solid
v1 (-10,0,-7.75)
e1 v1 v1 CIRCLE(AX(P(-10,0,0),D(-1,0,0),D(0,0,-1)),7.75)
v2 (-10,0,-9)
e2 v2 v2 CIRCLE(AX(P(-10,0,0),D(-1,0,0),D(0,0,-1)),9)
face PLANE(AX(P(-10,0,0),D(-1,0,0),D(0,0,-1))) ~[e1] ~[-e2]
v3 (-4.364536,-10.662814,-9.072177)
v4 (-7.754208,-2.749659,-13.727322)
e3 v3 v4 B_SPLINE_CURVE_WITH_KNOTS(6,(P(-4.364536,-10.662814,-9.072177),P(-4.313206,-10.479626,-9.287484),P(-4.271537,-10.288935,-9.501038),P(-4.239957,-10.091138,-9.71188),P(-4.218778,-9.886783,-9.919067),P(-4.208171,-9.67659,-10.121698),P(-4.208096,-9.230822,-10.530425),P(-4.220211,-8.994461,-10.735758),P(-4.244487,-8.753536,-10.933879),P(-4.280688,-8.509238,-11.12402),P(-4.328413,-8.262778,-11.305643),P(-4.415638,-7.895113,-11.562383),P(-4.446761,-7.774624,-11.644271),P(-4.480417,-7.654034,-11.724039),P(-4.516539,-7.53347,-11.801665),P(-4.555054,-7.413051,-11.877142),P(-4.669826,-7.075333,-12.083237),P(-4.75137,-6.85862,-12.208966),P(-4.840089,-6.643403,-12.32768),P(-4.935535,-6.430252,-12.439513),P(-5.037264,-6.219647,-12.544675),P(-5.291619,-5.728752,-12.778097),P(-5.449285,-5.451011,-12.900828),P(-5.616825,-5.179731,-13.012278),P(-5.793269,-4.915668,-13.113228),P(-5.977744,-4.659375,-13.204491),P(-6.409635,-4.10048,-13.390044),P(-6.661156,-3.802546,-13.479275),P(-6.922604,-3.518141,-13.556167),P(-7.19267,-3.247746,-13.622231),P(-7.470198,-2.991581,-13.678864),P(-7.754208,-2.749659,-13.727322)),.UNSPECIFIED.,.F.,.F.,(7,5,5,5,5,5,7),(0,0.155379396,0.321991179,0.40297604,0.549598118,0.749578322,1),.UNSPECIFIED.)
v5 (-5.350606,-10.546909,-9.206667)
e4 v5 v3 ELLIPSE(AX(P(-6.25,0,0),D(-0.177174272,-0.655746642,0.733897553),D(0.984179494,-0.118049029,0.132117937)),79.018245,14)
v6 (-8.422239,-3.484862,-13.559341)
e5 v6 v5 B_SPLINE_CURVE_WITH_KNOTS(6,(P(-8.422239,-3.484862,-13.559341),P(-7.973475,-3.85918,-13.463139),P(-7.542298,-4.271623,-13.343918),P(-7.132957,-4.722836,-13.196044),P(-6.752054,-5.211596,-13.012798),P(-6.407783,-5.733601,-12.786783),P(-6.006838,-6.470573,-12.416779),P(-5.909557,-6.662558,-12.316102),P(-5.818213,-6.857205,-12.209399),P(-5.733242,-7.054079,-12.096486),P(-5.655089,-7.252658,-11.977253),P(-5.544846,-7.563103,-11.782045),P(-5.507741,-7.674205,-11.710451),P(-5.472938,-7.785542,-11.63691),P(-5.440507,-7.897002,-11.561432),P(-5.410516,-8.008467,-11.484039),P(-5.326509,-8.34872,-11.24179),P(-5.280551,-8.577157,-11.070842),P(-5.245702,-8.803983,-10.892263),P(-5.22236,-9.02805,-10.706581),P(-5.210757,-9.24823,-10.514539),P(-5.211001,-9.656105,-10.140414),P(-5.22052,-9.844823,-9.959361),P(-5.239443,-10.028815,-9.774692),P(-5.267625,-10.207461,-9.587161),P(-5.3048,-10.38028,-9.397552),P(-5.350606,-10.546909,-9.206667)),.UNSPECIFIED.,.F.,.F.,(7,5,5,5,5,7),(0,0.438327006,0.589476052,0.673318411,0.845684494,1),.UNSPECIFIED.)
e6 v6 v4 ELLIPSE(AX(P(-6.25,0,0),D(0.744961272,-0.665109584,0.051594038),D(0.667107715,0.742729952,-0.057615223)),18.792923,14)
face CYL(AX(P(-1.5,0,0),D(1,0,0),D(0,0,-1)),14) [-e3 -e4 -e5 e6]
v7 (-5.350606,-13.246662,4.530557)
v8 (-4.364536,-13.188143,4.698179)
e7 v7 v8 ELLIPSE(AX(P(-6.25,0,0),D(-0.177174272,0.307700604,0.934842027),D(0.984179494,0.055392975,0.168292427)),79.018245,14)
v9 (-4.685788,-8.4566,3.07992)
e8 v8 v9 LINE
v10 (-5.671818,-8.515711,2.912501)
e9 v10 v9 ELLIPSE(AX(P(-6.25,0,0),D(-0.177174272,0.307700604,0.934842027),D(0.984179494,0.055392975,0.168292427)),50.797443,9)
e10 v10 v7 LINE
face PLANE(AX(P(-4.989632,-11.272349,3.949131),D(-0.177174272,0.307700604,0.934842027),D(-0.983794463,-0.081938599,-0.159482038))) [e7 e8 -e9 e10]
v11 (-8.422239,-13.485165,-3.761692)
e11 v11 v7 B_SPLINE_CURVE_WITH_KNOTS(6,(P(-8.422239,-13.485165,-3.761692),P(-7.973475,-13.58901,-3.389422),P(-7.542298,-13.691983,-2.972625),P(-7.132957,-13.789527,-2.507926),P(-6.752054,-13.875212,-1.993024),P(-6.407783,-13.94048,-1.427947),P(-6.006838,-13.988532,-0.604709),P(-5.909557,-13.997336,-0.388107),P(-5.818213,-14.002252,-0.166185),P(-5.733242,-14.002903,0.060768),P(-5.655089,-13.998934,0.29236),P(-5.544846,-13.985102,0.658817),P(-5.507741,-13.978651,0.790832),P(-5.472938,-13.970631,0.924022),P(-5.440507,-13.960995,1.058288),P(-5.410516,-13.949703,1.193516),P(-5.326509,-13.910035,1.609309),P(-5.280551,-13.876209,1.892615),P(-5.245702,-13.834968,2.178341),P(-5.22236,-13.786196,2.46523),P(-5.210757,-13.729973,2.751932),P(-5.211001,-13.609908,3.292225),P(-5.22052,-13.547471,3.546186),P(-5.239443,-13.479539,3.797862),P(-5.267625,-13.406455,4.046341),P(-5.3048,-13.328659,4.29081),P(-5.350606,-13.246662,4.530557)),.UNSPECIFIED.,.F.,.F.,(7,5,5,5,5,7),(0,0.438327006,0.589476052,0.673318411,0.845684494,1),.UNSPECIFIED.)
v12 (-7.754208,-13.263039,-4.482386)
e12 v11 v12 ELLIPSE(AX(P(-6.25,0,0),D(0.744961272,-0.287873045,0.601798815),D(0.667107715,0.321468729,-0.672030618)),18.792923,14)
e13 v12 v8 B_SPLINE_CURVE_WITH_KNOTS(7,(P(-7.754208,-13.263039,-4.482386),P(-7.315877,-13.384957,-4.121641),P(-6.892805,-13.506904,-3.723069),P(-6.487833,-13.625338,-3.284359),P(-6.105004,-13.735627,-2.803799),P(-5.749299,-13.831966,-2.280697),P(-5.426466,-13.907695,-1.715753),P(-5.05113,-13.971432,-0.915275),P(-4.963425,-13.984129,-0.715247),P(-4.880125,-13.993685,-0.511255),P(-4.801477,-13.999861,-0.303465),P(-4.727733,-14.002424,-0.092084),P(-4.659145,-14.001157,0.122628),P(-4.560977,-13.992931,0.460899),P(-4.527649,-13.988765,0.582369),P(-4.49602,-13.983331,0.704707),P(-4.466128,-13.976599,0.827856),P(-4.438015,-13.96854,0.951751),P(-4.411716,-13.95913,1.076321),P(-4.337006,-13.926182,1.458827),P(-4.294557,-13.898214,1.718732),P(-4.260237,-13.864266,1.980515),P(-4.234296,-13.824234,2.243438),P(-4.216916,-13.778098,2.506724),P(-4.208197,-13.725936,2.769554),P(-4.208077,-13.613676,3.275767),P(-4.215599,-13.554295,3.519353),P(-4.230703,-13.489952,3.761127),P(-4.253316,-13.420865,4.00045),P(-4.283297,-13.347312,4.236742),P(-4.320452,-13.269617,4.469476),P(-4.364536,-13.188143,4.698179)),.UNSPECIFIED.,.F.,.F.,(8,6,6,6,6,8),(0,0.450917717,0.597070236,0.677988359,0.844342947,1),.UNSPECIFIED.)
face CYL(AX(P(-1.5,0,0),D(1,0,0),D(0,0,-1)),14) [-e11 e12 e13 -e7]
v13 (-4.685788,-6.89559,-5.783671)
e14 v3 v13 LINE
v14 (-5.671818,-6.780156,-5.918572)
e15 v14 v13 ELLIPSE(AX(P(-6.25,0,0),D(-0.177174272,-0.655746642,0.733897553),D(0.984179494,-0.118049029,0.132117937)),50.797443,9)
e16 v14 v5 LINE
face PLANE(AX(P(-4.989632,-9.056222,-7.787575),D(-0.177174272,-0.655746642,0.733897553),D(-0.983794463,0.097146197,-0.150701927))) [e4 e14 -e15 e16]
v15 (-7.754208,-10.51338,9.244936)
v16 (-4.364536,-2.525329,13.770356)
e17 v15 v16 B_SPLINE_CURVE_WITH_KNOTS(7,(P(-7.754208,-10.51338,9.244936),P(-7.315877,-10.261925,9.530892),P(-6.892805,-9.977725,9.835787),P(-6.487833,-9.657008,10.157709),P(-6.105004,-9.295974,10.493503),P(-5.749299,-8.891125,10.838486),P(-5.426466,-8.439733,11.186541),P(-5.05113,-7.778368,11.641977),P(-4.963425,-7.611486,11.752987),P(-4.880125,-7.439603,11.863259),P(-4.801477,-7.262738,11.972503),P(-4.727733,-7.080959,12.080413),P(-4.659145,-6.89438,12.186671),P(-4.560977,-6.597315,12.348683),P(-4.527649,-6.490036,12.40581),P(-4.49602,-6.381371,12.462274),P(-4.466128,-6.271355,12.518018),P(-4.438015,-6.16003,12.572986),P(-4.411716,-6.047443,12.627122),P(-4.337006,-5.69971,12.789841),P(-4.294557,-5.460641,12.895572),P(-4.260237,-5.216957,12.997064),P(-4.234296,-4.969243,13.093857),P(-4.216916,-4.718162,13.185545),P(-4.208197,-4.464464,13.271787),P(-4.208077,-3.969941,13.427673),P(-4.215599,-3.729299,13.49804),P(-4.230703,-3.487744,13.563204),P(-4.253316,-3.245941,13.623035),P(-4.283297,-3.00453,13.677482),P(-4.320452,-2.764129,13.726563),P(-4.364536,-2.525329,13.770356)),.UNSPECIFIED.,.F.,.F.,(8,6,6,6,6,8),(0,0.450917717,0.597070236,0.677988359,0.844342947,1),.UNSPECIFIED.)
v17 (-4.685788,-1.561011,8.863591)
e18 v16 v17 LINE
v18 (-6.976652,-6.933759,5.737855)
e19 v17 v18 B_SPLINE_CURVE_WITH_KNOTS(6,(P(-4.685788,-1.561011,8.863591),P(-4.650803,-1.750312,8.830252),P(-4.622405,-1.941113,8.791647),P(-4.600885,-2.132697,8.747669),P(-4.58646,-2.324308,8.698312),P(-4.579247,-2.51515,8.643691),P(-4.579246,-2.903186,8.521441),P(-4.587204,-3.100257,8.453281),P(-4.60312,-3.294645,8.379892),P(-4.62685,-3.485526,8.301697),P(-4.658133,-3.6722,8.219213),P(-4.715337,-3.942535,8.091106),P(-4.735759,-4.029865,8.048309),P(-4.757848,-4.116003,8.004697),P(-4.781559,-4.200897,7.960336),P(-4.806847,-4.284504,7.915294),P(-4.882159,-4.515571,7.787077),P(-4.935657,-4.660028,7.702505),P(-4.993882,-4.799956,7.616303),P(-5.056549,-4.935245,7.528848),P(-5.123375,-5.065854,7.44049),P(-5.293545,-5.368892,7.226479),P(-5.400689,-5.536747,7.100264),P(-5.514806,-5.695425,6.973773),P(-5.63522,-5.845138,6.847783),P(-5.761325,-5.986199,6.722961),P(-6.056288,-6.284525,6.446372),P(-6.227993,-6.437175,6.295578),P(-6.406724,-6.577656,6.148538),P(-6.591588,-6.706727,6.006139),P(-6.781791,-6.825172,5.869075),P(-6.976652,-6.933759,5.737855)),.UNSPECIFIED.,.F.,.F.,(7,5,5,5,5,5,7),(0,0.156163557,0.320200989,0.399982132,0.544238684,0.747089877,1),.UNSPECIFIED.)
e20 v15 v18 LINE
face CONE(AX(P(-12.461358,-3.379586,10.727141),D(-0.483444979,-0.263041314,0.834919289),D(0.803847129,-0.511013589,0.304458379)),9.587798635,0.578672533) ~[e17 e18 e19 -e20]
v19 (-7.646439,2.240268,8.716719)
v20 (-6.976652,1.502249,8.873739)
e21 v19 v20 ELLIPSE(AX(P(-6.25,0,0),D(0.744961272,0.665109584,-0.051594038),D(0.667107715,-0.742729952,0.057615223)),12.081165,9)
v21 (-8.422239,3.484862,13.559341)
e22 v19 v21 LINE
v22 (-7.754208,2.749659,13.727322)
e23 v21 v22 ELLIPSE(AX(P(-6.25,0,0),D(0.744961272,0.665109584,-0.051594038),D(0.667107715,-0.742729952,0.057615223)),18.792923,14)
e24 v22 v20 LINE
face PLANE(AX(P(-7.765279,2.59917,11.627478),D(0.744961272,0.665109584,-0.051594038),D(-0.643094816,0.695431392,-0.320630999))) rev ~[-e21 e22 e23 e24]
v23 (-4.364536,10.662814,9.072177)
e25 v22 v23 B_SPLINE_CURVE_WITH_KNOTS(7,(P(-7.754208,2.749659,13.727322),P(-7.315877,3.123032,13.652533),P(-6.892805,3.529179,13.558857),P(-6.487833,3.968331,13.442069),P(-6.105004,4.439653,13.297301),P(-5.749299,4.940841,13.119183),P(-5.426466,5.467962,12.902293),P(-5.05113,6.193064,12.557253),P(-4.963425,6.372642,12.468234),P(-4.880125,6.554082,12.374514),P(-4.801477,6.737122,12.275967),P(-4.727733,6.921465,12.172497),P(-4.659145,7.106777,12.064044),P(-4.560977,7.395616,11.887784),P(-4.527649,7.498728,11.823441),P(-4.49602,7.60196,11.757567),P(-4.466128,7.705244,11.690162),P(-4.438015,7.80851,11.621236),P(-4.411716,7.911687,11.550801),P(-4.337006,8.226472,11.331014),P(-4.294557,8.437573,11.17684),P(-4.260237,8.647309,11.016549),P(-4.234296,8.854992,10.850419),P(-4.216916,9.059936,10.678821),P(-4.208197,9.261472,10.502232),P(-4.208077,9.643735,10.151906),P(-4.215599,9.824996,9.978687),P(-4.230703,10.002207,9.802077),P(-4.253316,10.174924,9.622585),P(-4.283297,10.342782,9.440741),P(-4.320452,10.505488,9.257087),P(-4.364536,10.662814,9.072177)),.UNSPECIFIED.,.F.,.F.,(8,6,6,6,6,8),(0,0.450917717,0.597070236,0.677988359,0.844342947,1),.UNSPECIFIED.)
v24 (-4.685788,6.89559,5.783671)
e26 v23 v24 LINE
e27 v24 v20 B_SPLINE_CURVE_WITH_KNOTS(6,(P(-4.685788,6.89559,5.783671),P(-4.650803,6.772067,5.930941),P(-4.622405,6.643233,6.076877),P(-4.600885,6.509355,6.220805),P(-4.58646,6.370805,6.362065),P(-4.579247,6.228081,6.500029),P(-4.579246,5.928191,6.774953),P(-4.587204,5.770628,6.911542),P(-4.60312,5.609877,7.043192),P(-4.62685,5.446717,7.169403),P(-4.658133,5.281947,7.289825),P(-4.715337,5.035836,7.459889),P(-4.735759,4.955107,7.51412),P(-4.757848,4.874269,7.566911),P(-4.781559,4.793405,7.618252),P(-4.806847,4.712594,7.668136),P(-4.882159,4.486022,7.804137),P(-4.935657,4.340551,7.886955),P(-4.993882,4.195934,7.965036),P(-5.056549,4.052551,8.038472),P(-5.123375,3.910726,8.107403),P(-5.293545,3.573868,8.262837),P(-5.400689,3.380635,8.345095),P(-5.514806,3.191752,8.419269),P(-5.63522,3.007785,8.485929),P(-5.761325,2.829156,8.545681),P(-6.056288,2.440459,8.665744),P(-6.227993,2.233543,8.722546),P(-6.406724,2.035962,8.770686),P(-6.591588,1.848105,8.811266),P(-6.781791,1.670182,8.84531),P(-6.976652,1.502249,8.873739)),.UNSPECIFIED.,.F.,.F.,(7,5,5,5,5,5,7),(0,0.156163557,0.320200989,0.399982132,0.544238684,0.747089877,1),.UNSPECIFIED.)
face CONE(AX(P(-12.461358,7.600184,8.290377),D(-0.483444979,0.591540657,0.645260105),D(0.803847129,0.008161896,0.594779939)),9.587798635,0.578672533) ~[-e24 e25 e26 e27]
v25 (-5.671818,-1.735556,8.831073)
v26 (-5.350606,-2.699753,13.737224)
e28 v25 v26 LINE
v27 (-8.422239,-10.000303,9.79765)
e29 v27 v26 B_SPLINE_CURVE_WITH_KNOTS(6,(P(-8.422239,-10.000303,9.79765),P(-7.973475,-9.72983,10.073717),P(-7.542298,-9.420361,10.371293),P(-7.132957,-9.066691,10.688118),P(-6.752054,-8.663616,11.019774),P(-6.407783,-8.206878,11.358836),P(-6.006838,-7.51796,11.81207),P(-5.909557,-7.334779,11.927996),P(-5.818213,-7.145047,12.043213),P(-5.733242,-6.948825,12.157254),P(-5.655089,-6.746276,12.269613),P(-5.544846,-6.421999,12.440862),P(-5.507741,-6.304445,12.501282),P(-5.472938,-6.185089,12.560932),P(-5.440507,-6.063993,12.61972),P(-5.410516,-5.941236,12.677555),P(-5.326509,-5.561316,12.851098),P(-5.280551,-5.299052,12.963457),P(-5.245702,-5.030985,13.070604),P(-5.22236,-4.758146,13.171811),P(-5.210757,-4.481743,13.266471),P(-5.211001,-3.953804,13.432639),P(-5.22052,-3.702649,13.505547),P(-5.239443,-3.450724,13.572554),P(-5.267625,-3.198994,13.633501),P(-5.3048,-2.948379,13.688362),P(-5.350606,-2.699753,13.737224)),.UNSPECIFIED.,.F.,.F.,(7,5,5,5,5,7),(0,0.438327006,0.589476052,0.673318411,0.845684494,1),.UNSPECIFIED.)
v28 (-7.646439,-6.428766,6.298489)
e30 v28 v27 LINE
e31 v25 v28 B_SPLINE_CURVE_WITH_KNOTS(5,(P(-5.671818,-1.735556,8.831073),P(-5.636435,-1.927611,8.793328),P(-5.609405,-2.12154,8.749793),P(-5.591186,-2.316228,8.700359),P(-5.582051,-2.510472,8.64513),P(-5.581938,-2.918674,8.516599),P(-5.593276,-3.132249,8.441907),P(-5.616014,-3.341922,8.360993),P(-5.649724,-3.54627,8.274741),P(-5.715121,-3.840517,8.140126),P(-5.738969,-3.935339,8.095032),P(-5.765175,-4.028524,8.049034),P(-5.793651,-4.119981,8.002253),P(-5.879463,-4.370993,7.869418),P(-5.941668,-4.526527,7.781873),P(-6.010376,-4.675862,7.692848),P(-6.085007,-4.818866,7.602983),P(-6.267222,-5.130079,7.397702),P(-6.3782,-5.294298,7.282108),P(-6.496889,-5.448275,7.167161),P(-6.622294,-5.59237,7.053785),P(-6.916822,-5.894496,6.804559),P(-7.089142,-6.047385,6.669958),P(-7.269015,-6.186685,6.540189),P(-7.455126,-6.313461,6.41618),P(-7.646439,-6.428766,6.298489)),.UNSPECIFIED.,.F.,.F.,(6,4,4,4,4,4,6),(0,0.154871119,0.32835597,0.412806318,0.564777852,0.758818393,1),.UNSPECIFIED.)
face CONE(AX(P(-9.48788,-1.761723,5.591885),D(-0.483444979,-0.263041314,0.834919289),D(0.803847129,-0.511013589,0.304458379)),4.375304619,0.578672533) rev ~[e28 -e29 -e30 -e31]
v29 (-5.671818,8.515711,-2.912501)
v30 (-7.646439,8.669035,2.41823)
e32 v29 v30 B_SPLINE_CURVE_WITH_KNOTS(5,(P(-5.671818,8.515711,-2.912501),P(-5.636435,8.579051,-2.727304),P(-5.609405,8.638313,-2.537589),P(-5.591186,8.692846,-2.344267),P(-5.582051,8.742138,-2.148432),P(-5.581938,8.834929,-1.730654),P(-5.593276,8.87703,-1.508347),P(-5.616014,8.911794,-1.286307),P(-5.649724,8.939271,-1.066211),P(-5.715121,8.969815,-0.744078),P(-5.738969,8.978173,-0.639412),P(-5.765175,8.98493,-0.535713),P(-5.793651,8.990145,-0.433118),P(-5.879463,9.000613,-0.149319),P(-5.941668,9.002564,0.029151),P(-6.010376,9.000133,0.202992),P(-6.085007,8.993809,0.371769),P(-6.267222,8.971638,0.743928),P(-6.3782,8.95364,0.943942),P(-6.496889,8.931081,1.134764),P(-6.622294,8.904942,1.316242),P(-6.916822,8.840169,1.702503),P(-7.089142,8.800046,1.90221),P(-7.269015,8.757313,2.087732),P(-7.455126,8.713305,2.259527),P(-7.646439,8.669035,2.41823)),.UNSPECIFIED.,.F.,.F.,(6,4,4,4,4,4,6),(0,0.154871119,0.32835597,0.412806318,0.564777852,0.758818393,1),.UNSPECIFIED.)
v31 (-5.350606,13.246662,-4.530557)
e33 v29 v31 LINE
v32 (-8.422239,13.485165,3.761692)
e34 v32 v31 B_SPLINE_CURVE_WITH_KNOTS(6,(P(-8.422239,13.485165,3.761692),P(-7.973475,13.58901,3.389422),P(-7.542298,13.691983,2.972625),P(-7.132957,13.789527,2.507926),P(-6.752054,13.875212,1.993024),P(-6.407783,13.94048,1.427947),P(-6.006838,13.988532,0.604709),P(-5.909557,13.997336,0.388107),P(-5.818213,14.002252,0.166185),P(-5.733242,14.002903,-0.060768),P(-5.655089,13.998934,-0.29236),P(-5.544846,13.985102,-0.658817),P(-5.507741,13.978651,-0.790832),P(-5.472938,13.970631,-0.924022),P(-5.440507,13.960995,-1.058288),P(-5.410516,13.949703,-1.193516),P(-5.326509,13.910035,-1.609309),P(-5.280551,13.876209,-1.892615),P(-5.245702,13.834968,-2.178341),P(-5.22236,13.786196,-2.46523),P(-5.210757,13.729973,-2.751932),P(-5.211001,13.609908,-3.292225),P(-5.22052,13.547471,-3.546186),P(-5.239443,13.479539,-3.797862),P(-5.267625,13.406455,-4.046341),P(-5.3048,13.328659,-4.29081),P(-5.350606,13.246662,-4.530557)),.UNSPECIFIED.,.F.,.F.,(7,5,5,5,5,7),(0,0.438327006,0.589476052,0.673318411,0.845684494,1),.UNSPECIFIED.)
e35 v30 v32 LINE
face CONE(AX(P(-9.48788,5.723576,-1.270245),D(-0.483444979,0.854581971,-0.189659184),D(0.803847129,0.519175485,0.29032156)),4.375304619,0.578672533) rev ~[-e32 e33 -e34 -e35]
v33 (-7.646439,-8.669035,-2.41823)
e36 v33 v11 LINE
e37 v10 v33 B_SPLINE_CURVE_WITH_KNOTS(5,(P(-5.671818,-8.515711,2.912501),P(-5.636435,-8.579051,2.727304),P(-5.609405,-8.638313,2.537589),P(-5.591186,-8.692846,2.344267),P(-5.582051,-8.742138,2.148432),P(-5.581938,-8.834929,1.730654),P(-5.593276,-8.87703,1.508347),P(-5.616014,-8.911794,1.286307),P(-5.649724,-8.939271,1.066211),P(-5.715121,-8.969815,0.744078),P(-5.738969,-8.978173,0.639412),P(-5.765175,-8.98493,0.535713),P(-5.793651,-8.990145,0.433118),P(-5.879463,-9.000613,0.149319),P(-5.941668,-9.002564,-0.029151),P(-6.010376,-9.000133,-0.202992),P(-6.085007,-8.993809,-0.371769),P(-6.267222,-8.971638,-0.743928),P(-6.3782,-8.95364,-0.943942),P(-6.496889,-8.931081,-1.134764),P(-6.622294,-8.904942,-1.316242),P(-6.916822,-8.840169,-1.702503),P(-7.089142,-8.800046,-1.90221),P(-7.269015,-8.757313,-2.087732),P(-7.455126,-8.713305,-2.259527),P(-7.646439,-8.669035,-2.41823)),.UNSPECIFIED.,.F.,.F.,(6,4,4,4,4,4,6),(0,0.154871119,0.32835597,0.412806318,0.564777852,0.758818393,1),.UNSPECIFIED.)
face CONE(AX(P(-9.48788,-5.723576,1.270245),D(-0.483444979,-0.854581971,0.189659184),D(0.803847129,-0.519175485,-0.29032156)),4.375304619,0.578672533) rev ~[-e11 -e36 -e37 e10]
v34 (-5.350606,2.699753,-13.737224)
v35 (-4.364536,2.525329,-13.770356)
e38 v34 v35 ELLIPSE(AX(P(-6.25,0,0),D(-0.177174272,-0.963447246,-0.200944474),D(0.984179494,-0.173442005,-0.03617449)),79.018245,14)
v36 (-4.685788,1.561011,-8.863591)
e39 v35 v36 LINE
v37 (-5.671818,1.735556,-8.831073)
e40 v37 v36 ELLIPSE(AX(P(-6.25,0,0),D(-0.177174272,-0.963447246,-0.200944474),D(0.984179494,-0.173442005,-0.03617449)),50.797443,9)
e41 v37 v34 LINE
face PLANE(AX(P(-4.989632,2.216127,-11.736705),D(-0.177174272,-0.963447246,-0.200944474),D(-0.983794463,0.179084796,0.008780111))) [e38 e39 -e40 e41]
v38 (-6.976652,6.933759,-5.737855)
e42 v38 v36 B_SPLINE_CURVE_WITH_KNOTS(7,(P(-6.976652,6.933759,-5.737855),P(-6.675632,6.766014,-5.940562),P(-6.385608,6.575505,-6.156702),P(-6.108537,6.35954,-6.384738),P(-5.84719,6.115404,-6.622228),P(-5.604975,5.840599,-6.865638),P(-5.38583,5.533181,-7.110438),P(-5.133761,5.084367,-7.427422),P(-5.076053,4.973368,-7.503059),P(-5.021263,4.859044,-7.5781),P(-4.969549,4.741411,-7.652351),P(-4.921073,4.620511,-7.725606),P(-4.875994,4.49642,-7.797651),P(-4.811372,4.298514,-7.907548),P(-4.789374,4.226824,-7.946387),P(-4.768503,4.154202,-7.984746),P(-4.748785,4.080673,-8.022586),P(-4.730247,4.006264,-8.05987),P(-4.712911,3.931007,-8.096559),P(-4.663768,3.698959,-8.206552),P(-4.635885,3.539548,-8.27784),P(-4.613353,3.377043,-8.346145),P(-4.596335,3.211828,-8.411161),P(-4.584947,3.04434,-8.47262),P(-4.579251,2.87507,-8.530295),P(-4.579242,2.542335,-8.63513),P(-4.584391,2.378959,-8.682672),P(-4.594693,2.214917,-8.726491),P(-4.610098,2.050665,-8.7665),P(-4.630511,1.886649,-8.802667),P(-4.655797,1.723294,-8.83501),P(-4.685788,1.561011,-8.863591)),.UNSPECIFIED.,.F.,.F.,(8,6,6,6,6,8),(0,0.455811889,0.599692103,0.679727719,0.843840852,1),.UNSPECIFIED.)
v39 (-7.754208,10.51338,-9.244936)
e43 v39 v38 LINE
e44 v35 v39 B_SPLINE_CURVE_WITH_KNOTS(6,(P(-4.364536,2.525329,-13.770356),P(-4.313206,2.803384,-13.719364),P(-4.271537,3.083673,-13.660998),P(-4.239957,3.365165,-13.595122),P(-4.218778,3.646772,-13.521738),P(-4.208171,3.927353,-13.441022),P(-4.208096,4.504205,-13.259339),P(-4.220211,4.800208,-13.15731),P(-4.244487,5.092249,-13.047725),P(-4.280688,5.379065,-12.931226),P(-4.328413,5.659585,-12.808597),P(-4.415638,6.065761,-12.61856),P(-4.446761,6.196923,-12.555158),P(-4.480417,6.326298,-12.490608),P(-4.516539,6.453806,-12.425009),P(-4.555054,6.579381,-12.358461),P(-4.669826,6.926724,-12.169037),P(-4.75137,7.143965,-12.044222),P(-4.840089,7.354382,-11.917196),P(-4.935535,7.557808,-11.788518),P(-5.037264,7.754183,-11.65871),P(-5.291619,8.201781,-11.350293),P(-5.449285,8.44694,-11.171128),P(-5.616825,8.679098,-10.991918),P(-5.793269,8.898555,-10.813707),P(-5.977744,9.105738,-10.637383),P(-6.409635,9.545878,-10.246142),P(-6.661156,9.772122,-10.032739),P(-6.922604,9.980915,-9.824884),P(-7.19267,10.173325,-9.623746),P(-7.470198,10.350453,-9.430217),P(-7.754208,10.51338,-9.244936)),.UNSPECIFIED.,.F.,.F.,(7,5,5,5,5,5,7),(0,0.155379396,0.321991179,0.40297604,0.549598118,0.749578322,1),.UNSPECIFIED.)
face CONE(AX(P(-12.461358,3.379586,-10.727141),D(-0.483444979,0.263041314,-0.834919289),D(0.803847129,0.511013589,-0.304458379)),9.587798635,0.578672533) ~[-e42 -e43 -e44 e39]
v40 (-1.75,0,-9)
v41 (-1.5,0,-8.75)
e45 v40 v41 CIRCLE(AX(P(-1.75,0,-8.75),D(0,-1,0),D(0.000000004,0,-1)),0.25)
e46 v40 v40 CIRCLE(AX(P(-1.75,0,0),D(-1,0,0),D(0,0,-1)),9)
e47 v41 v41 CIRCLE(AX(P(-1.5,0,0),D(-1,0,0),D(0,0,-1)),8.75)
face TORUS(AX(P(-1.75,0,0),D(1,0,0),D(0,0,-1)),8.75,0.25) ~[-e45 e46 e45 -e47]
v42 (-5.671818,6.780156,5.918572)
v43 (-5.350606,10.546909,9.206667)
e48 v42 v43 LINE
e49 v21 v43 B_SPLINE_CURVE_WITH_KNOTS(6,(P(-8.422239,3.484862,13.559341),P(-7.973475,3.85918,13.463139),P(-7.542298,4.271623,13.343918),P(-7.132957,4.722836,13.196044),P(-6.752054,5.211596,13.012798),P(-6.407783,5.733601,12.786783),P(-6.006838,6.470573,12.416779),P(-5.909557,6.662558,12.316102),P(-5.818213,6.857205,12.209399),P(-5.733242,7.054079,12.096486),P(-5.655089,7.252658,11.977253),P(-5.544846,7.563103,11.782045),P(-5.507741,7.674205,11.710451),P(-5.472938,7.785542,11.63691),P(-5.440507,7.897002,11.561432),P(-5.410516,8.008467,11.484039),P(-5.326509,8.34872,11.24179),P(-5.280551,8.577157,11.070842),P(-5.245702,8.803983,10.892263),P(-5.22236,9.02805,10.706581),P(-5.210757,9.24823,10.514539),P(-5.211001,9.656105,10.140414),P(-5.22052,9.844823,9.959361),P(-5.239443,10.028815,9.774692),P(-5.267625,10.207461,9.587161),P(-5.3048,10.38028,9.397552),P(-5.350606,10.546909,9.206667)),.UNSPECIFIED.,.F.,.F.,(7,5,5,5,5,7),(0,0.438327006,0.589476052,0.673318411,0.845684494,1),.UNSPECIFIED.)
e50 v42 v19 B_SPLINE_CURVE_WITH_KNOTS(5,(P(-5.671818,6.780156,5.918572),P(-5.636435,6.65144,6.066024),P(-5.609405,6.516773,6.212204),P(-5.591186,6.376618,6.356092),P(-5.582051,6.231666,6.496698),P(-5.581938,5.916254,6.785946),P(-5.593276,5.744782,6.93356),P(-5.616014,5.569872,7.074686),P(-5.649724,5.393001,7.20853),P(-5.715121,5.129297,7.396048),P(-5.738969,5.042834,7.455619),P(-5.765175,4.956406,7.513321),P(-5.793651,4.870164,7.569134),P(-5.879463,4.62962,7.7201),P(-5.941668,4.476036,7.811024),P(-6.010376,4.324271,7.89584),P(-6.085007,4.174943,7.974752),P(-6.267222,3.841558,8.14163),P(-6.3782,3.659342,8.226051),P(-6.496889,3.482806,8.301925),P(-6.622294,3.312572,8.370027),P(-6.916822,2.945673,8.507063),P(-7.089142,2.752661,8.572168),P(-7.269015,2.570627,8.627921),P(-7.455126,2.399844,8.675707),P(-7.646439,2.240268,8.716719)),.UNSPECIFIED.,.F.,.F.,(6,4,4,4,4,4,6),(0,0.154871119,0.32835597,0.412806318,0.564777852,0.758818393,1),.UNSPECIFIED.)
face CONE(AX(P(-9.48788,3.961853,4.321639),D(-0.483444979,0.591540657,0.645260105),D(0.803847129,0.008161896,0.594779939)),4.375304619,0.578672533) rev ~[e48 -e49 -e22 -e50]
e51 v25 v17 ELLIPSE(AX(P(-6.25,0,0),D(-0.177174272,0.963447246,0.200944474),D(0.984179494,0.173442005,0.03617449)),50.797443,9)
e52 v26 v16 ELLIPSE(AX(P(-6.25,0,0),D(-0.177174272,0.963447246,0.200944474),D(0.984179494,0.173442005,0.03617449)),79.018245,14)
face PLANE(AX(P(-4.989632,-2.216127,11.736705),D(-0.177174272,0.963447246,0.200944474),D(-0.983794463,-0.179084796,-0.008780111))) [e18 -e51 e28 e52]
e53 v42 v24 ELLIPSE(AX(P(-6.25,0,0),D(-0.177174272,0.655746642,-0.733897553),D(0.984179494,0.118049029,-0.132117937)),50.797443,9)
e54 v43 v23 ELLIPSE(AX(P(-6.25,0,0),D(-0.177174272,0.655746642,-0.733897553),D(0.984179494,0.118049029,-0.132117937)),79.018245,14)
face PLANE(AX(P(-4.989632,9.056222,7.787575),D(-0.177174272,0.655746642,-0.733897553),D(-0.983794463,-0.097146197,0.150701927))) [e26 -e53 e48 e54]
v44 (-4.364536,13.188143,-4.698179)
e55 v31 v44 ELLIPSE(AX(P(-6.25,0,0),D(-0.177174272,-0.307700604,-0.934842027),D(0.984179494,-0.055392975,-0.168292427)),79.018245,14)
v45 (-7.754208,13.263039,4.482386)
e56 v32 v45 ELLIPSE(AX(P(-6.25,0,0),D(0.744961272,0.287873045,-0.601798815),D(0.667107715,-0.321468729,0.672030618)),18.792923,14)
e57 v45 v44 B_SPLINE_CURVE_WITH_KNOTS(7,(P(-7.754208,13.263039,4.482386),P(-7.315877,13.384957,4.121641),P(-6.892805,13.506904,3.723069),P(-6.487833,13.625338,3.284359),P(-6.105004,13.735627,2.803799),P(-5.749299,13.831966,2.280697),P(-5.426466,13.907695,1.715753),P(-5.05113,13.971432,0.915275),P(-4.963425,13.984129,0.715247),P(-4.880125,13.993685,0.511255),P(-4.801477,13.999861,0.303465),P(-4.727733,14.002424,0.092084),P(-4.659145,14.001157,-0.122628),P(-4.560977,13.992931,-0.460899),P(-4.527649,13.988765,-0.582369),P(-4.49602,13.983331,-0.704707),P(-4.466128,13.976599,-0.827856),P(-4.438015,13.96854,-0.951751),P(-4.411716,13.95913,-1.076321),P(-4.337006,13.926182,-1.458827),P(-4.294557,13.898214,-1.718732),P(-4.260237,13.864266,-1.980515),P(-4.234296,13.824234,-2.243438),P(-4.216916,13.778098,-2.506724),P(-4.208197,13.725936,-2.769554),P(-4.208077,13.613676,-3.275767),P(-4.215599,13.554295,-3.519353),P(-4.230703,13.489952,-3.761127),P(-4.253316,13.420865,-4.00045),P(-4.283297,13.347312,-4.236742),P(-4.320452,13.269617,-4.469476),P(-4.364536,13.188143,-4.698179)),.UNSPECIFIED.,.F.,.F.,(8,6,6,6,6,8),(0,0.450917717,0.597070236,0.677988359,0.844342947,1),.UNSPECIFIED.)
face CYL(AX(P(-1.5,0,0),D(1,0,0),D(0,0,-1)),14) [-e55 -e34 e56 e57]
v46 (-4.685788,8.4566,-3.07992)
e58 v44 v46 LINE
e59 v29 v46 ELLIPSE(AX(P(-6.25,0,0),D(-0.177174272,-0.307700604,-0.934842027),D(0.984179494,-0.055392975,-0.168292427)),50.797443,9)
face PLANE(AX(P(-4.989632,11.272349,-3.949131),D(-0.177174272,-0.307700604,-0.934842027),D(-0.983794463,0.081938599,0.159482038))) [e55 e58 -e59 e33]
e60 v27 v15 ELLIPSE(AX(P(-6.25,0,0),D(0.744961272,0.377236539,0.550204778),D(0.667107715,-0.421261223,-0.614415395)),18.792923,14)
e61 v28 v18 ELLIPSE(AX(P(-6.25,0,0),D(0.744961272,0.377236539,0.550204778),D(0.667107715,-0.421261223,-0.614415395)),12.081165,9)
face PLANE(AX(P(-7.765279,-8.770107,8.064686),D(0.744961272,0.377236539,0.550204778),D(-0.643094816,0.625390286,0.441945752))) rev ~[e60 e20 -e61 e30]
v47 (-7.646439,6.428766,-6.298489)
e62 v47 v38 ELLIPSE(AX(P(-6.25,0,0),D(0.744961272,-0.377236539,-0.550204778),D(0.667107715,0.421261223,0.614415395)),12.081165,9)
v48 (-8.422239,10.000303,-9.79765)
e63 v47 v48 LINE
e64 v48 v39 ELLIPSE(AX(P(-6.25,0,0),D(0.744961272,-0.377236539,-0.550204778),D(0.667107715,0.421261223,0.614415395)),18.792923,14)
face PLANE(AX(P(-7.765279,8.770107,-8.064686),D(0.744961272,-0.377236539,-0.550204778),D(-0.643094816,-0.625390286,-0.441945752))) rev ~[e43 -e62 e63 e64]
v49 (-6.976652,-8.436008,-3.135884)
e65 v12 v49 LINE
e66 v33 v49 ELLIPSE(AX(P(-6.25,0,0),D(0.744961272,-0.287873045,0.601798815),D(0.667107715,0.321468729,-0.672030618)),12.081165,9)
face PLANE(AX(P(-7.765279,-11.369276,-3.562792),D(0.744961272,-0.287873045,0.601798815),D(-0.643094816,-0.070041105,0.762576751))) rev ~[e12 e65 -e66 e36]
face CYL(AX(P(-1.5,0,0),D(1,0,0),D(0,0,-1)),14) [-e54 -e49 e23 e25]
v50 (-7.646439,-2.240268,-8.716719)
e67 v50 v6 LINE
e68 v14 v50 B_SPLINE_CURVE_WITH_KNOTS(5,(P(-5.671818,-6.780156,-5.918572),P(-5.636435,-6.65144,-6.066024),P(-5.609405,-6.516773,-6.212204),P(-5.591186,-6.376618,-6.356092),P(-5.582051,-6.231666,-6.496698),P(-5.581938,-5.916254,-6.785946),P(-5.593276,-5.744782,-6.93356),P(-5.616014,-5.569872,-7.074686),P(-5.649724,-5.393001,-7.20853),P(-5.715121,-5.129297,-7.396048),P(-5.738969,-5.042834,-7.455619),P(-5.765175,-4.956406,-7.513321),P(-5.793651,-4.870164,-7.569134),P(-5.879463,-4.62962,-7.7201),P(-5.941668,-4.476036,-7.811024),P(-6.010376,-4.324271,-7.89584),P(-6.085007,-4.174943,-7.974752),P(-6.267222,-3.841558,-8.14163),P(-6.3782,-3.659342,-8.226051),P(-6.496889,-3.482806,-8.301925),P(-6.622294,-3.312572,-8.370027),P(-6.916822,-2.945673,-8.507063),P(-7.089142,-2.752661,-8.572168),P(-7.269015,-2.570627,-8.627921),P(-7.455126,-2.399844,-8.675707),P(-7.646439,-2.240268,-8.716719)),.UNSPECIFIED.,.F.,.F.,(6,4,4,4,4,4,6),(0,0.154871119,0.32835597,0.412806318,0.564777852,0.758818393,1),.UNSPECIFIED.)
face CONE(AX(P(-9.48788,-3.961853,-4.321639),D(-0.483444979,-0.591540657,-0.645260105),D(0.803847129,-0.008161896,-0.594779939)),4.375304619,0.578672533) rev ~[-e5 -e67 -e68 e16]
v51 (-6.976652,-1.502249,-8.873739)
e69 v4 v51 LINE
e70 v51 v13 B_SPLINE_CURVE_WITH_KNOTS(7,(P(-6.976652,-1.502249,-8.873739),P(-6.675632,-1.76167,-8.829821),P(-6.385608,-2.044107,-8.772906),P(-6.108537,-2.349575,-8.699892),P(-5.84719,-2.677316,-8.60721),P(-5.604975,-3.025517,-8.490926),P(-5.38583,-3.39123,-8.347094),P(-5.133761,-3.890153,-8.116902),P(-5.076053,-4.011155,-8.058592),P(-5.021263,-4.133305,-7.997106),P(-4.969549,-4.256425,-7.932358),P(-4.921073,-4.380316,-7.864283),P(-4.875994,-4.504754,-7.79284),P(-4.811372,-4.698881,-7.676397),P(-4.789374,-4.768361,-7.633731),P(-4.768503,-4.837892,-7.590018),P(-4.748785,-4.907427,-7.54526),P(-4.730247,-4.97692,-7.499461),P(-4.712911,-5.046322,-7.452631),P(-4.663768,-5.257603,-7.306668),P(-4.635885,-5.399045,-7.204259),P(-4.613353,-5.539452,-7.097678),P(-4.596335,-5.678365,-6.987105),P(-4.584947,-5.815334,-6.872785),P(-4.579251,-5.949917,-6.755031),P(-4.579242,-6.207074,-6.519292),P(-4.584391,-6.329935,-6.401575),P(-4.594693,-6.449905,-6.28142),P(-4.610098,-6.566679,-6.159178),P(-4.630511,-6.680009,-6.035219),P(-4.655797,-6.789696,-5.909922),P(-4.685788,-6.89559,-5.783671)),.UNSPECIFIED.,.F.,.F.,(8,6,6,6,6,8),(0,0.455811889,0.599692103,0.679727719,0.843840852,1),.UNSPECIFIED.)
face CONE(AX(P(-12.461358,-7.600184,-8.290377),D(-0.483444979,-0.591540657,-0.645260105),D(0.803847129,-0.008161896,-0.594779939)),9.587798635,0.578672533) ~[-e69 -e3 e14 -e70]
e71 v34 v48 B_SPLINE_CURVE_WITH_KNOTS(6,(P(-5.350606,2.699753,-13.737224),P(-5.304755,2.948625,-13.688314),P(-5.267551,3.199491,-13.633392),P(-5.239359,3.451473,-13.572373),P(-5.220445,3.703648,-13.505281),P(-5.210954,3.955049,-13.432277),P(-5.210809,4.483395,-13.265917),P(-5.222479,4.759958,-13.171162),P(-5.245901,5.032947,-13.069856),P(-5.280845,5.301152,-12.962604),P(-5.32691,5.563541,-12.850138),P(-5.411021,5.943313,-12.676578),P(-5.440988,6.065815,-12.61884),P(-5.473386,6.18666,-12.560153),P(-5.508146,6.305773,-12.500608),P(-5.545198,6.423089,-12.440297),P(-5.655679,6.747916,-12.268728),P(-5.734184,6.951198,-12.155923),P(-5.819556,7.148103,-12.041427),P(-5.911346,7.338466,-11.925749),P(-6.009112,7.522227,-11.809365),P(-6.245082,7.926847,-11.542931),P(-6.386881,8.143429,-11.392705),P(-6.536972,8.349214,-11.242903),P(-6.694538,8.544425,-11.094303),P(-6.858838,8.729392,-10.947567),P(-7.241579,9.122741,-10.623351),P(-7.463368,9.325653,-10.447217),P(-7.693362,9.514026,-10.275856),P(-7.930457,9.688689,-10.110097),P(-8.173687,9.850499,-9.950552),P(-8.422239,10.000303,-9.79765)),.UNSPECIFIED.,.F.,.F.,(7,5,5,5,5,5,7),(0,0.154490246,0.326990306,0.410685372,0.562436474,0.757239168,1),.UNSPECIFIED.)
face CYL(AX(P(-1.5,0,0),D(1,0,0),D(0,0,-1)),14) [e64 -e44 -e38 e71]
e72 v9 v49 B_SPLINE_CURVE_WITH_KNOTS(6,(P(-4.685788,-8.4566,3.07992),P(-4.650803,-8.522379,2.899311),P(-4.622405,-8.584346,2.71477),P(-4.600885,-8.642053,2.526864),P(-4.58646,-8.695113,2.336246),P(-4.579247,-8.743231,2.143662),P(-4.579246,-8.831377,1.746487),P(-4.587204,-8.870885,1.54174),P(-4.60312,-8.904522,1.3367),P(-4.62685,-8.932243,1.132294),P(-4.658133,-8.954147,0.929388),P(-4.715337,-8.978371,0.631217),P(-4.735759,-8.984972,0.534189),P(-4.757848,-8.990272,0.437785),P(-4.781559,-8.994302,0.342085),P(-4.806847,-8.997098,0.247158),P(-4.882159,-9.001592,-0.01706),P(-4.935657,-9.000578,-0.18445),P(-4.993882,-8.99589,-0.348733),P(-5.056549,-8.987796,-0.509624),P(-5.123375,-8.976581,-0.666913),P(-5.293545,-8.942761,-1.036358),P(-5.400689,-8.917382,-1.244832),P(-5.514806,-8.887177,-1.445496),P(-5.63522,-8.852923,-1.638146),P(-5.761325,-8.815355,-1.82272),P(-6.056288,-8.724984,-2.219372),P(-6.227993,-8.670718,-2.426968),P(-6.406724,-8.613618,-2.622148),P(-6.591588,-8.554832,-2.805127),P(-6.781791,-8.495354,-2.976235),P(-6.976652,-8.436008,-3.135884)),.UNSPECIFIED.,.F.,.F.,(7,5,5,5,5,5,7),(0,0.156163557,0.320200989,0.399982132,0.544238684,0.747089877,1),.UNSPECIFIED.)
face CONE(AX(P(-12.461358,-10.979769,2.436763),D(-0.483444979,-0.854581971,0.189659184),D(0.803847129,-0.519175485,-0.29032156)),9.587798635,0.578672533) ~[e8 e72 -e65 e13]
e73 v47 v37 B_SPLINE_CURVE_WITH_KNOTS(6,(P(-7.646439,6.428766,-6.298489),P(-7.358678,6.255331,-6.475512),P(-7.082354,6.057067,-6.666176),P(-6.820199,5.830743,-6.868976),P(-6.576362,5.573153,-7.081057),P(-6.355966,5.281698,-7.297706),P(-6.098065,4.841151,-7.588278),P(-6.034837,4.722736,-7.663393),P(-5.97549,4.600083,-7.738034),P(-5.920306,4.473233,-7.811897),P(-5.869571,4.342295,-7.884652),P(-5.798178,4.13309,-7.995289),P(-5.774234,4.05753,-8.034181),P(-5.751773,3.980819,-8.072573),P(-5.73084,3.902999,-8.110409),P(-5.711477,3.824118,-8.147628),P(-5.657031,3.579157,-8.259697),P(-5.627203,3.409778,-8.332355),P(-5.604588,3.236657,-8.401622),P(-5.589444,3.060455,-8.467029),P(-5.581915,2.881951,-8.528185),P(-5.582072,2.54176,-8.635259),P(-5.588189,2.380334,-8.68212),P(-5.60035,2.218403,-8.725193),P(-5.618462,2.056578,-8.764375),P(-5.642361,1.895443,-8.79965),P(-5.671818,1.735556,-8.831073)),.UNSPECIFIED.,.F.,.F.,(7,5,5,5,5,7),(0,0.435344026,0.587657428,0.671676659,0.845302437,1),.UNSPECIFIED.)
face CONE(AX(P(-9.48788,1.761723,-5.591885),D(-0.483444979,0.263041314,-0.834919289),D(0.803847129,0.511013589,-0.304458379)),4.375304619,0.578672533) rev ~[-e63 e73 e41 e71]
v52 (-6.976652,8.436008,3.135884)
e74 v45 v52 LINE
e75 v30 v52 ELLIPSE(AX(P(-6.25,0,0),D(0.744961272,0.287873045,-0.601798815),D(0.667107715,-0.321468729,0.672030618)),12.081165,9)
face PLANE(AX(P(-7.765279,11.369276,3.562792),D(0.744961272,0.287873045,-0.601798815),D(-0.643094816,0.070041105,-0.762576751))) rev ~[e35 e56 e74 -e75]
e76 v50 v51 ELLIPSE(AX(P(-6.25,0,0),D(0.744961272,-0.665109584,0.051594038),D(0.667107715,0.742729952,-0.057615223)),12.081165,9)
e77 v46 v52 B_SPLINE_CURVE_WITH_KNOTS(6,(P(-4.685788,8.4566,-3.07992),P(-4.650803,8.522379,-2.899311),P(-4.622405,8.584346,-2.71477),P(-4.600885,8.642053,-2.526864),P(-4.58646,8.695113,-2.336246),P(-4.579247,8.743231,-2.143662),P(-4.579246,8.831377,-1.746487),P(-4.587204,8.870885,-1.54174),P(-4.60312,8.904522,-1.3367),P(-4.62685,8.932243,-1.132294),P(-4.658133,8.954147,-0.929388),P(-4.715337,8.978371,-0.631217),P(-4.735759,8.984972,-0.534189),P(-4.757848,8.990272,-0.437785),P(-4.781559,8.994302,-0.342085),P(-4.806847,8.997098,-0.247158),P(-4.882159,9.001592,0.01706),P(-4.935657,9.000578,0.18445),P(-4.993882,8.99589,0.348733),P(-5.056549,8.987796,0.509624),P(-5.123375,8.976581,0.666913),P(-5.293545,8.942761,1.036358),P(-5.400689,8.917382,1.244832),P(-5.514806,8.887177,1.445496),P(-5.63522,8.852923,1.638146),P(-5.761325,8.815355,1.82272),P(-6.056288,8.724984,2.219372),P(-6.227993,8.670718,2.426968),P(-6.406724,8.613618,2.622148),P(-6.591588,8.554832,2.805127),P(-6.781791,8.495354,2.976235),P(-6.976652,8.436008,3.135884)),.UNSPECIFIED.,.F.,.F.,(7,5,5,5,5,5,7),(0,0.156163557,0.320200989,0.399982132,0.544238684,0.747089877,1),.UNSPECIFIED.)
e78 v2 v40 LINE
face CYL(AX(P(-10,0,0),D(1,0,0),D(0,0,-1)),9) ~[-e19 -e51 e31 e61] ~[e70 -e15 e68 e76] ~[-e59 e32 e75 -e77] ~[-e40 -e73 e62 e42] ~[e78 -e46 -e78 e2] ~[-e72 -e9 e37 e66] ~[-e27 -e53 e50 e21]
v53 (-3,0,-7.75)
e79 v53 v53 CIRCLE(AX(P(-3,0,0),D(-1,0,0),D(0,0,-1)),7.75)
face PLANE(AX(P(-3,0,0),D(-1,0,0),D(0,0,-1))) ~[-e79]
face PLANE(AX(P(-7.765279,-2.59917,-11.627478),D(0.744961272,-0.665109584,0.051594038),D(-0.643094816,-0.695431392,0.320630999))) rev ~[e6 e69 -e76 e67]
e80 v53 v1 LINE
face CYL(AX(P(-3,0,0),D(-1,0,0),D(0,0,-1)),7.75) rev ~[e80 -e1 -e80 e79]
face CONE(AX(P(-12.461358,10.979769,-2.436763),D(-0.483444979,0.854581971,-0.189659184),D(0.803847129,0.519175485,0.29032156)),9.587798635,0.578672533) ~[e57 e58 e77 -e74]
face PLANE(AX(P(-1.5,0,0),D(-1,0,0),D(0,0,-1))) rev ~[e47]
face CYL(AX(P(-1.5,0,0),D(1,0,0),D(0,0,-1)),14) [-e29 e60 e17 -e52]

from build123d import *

# Parameters (mm, degrees)
REVOLVE3_ANGLE           = 35
REVOLVE3_OTHER_WAY_ANGLE = 35
CIRPATTERN1_COUNT        = 6
SKETCH8_OUTSIDE_W        = 42.448
SKETCH8_OUTSIDE_H        = 43.096
SKETCH8_OUTSIDE_R        = 14
CUT_EXTRUDE1_DEPTH       = 24.946705857


with BuildPart() as part:
    # Sketch1 → Revolve1 (revolve)
    with BuildSketch(Plane.XY, mode=Mode.PRIVATE) as revolve1_sk:
        with BuildLine():
            Line((-10, 9), (-1.75, 9))
            ThreePointArc((-1.75, 9), (-1.573223305, 8.926776695), (-1.5, 8.75))
            Line((-1.5, 8.75), (-1.5, 0))
            Line((-1.5, 0), (-3, 0))
            Line((-3, 0), (-3, 7.75))
            Line((-3, 7.75), (-10, 7.75))
            Line((-10, 7.75), (-10, 9))
        make_face()
    revolve(revolve1_sk.sketch.rotate(Axis((0, 0, 0), (-1, 0, 0)), 90), axis=Axis((0, 0, 0), (-1, 0, 0)))


with BuildPart() as body_2:
    # Sketch6 → Revolve3 (revolve)
    with BuildSketch(Plane(origin=(-0.750692152, 0.026214748, 2.031649583), x_dir=(-0.9380241231891524, -0.004471483741222242, -0.3465411233149307), z_dir=(0.34656997030213393, -0.01210249004568391, -0.9379460461132464))):
        Polygon((5.267365496, 15.988922273), (4.268057854, 15.951716943), (4.565700491, 7.957255807), (5.565008133, 7.994461136), align=None)
    revolve(axis=Axis((-9.5, 5.745, -1.275), (0.4834449794238033, -0.8545819713199232, 0.18965918423549216)), revolution_arc=REVOLVE3_ANGLE)

    # Sketch6 → Revolve3 other way (revolve)
    with BuildSketch(Plane(origin=(-0.750692152, 0.026214748, 2.031649583), x_dir=(-0.9380241231891524, -0.004471483741222242, -0.3465411233149307), z_dir=(0.34656997030213393, -0.01210249004568391, -0.9379460461132464))):
        Polygon((5.267365496, 15.988922273), (4.268057854, 15.951716943), (4.565700491, 7.957255807), (5.565008133, 7.994461136), align=None)
    revolve(axis=Axis((-9.5, 5.745, -1.275), (-0.4834449794238033, 0.8545819713199232, -0.18965918423549216)), revolution_arc=REVOLVE3_OTHER_WAY_ANGLE)


with BuildPart() as cirpattern1_1:
    # CirPattern1: pattern copy
    add(body_2.part.rotate(Axis((0, 0, 0), (1, 0, 0)), 1 * 360 / CIRPATTERN1_COUNT))


with BuildPart() as cirpattern1_2:
    # CirPattern1: pattern copy
    add(body_2.part.rotate(Axis((0, 0, 0), (1, 0, 0)), 2 * 360 / CIRPATTERN1_COUNT))


with BuildPart() as cirpattern1_3:
    # CirPattern1: pattern copy
    add(body_2.part.rotate(Axis((0, 0, 0), (1, 0, 0)), 3 * 360 / CIRPATTERN1_COUNT))


with BuildPart() as cirpattern1_4:
    # CirPattern1: pattern copy
    add(body_2.part.rotate(Axis((0, 0, 0), (1, 0, 0)), 4 * 360 / CIRPATTERN1_COUNT))


with BuildPart() as cirpattern1_5:
    # CirPattern1: pattern copy
    add(body_2.part.rotate(Axis((0, 0, 0), (1, 0, 0)), 5 * 360 / CIRPATTERN1_COUNT))


with BuildPart() as cirpattern1_3_1:
    add(cirpattern1_3.part)

    # Combine1: union CirPattern1_5, CirPattern1_2, part, CirPattern1_4, body 2, CirPattern1_1
    add(cirpattern1_5.part)
    add(cirpattern1_2.part)
    add(part.part)
    add(cirpattern1_4.part)
    add(body_2.part)
    add(cirpattern1_1.part)

    # Sketch8 outside → Cut-Extrude1 (cut, through all)
    with BuildSketch(Plane(origin=(-1.5, 0, 0), x_dir=(0, 0, -1), z_dir=(1, 0, 0))):
        Rectangle(SKETCH8_OUTSIDE_W, SKETCH8_OUTSIDE_H)
        Circle(SKETCH8_OUTSIDE_R, mode=Mode.SUBTRACT)
    extrude(amount=-CUT_EXTRUDE1_DEPTH, mode=Mode.SUBTRACT)


solid = cirpattern1_3_1.part
